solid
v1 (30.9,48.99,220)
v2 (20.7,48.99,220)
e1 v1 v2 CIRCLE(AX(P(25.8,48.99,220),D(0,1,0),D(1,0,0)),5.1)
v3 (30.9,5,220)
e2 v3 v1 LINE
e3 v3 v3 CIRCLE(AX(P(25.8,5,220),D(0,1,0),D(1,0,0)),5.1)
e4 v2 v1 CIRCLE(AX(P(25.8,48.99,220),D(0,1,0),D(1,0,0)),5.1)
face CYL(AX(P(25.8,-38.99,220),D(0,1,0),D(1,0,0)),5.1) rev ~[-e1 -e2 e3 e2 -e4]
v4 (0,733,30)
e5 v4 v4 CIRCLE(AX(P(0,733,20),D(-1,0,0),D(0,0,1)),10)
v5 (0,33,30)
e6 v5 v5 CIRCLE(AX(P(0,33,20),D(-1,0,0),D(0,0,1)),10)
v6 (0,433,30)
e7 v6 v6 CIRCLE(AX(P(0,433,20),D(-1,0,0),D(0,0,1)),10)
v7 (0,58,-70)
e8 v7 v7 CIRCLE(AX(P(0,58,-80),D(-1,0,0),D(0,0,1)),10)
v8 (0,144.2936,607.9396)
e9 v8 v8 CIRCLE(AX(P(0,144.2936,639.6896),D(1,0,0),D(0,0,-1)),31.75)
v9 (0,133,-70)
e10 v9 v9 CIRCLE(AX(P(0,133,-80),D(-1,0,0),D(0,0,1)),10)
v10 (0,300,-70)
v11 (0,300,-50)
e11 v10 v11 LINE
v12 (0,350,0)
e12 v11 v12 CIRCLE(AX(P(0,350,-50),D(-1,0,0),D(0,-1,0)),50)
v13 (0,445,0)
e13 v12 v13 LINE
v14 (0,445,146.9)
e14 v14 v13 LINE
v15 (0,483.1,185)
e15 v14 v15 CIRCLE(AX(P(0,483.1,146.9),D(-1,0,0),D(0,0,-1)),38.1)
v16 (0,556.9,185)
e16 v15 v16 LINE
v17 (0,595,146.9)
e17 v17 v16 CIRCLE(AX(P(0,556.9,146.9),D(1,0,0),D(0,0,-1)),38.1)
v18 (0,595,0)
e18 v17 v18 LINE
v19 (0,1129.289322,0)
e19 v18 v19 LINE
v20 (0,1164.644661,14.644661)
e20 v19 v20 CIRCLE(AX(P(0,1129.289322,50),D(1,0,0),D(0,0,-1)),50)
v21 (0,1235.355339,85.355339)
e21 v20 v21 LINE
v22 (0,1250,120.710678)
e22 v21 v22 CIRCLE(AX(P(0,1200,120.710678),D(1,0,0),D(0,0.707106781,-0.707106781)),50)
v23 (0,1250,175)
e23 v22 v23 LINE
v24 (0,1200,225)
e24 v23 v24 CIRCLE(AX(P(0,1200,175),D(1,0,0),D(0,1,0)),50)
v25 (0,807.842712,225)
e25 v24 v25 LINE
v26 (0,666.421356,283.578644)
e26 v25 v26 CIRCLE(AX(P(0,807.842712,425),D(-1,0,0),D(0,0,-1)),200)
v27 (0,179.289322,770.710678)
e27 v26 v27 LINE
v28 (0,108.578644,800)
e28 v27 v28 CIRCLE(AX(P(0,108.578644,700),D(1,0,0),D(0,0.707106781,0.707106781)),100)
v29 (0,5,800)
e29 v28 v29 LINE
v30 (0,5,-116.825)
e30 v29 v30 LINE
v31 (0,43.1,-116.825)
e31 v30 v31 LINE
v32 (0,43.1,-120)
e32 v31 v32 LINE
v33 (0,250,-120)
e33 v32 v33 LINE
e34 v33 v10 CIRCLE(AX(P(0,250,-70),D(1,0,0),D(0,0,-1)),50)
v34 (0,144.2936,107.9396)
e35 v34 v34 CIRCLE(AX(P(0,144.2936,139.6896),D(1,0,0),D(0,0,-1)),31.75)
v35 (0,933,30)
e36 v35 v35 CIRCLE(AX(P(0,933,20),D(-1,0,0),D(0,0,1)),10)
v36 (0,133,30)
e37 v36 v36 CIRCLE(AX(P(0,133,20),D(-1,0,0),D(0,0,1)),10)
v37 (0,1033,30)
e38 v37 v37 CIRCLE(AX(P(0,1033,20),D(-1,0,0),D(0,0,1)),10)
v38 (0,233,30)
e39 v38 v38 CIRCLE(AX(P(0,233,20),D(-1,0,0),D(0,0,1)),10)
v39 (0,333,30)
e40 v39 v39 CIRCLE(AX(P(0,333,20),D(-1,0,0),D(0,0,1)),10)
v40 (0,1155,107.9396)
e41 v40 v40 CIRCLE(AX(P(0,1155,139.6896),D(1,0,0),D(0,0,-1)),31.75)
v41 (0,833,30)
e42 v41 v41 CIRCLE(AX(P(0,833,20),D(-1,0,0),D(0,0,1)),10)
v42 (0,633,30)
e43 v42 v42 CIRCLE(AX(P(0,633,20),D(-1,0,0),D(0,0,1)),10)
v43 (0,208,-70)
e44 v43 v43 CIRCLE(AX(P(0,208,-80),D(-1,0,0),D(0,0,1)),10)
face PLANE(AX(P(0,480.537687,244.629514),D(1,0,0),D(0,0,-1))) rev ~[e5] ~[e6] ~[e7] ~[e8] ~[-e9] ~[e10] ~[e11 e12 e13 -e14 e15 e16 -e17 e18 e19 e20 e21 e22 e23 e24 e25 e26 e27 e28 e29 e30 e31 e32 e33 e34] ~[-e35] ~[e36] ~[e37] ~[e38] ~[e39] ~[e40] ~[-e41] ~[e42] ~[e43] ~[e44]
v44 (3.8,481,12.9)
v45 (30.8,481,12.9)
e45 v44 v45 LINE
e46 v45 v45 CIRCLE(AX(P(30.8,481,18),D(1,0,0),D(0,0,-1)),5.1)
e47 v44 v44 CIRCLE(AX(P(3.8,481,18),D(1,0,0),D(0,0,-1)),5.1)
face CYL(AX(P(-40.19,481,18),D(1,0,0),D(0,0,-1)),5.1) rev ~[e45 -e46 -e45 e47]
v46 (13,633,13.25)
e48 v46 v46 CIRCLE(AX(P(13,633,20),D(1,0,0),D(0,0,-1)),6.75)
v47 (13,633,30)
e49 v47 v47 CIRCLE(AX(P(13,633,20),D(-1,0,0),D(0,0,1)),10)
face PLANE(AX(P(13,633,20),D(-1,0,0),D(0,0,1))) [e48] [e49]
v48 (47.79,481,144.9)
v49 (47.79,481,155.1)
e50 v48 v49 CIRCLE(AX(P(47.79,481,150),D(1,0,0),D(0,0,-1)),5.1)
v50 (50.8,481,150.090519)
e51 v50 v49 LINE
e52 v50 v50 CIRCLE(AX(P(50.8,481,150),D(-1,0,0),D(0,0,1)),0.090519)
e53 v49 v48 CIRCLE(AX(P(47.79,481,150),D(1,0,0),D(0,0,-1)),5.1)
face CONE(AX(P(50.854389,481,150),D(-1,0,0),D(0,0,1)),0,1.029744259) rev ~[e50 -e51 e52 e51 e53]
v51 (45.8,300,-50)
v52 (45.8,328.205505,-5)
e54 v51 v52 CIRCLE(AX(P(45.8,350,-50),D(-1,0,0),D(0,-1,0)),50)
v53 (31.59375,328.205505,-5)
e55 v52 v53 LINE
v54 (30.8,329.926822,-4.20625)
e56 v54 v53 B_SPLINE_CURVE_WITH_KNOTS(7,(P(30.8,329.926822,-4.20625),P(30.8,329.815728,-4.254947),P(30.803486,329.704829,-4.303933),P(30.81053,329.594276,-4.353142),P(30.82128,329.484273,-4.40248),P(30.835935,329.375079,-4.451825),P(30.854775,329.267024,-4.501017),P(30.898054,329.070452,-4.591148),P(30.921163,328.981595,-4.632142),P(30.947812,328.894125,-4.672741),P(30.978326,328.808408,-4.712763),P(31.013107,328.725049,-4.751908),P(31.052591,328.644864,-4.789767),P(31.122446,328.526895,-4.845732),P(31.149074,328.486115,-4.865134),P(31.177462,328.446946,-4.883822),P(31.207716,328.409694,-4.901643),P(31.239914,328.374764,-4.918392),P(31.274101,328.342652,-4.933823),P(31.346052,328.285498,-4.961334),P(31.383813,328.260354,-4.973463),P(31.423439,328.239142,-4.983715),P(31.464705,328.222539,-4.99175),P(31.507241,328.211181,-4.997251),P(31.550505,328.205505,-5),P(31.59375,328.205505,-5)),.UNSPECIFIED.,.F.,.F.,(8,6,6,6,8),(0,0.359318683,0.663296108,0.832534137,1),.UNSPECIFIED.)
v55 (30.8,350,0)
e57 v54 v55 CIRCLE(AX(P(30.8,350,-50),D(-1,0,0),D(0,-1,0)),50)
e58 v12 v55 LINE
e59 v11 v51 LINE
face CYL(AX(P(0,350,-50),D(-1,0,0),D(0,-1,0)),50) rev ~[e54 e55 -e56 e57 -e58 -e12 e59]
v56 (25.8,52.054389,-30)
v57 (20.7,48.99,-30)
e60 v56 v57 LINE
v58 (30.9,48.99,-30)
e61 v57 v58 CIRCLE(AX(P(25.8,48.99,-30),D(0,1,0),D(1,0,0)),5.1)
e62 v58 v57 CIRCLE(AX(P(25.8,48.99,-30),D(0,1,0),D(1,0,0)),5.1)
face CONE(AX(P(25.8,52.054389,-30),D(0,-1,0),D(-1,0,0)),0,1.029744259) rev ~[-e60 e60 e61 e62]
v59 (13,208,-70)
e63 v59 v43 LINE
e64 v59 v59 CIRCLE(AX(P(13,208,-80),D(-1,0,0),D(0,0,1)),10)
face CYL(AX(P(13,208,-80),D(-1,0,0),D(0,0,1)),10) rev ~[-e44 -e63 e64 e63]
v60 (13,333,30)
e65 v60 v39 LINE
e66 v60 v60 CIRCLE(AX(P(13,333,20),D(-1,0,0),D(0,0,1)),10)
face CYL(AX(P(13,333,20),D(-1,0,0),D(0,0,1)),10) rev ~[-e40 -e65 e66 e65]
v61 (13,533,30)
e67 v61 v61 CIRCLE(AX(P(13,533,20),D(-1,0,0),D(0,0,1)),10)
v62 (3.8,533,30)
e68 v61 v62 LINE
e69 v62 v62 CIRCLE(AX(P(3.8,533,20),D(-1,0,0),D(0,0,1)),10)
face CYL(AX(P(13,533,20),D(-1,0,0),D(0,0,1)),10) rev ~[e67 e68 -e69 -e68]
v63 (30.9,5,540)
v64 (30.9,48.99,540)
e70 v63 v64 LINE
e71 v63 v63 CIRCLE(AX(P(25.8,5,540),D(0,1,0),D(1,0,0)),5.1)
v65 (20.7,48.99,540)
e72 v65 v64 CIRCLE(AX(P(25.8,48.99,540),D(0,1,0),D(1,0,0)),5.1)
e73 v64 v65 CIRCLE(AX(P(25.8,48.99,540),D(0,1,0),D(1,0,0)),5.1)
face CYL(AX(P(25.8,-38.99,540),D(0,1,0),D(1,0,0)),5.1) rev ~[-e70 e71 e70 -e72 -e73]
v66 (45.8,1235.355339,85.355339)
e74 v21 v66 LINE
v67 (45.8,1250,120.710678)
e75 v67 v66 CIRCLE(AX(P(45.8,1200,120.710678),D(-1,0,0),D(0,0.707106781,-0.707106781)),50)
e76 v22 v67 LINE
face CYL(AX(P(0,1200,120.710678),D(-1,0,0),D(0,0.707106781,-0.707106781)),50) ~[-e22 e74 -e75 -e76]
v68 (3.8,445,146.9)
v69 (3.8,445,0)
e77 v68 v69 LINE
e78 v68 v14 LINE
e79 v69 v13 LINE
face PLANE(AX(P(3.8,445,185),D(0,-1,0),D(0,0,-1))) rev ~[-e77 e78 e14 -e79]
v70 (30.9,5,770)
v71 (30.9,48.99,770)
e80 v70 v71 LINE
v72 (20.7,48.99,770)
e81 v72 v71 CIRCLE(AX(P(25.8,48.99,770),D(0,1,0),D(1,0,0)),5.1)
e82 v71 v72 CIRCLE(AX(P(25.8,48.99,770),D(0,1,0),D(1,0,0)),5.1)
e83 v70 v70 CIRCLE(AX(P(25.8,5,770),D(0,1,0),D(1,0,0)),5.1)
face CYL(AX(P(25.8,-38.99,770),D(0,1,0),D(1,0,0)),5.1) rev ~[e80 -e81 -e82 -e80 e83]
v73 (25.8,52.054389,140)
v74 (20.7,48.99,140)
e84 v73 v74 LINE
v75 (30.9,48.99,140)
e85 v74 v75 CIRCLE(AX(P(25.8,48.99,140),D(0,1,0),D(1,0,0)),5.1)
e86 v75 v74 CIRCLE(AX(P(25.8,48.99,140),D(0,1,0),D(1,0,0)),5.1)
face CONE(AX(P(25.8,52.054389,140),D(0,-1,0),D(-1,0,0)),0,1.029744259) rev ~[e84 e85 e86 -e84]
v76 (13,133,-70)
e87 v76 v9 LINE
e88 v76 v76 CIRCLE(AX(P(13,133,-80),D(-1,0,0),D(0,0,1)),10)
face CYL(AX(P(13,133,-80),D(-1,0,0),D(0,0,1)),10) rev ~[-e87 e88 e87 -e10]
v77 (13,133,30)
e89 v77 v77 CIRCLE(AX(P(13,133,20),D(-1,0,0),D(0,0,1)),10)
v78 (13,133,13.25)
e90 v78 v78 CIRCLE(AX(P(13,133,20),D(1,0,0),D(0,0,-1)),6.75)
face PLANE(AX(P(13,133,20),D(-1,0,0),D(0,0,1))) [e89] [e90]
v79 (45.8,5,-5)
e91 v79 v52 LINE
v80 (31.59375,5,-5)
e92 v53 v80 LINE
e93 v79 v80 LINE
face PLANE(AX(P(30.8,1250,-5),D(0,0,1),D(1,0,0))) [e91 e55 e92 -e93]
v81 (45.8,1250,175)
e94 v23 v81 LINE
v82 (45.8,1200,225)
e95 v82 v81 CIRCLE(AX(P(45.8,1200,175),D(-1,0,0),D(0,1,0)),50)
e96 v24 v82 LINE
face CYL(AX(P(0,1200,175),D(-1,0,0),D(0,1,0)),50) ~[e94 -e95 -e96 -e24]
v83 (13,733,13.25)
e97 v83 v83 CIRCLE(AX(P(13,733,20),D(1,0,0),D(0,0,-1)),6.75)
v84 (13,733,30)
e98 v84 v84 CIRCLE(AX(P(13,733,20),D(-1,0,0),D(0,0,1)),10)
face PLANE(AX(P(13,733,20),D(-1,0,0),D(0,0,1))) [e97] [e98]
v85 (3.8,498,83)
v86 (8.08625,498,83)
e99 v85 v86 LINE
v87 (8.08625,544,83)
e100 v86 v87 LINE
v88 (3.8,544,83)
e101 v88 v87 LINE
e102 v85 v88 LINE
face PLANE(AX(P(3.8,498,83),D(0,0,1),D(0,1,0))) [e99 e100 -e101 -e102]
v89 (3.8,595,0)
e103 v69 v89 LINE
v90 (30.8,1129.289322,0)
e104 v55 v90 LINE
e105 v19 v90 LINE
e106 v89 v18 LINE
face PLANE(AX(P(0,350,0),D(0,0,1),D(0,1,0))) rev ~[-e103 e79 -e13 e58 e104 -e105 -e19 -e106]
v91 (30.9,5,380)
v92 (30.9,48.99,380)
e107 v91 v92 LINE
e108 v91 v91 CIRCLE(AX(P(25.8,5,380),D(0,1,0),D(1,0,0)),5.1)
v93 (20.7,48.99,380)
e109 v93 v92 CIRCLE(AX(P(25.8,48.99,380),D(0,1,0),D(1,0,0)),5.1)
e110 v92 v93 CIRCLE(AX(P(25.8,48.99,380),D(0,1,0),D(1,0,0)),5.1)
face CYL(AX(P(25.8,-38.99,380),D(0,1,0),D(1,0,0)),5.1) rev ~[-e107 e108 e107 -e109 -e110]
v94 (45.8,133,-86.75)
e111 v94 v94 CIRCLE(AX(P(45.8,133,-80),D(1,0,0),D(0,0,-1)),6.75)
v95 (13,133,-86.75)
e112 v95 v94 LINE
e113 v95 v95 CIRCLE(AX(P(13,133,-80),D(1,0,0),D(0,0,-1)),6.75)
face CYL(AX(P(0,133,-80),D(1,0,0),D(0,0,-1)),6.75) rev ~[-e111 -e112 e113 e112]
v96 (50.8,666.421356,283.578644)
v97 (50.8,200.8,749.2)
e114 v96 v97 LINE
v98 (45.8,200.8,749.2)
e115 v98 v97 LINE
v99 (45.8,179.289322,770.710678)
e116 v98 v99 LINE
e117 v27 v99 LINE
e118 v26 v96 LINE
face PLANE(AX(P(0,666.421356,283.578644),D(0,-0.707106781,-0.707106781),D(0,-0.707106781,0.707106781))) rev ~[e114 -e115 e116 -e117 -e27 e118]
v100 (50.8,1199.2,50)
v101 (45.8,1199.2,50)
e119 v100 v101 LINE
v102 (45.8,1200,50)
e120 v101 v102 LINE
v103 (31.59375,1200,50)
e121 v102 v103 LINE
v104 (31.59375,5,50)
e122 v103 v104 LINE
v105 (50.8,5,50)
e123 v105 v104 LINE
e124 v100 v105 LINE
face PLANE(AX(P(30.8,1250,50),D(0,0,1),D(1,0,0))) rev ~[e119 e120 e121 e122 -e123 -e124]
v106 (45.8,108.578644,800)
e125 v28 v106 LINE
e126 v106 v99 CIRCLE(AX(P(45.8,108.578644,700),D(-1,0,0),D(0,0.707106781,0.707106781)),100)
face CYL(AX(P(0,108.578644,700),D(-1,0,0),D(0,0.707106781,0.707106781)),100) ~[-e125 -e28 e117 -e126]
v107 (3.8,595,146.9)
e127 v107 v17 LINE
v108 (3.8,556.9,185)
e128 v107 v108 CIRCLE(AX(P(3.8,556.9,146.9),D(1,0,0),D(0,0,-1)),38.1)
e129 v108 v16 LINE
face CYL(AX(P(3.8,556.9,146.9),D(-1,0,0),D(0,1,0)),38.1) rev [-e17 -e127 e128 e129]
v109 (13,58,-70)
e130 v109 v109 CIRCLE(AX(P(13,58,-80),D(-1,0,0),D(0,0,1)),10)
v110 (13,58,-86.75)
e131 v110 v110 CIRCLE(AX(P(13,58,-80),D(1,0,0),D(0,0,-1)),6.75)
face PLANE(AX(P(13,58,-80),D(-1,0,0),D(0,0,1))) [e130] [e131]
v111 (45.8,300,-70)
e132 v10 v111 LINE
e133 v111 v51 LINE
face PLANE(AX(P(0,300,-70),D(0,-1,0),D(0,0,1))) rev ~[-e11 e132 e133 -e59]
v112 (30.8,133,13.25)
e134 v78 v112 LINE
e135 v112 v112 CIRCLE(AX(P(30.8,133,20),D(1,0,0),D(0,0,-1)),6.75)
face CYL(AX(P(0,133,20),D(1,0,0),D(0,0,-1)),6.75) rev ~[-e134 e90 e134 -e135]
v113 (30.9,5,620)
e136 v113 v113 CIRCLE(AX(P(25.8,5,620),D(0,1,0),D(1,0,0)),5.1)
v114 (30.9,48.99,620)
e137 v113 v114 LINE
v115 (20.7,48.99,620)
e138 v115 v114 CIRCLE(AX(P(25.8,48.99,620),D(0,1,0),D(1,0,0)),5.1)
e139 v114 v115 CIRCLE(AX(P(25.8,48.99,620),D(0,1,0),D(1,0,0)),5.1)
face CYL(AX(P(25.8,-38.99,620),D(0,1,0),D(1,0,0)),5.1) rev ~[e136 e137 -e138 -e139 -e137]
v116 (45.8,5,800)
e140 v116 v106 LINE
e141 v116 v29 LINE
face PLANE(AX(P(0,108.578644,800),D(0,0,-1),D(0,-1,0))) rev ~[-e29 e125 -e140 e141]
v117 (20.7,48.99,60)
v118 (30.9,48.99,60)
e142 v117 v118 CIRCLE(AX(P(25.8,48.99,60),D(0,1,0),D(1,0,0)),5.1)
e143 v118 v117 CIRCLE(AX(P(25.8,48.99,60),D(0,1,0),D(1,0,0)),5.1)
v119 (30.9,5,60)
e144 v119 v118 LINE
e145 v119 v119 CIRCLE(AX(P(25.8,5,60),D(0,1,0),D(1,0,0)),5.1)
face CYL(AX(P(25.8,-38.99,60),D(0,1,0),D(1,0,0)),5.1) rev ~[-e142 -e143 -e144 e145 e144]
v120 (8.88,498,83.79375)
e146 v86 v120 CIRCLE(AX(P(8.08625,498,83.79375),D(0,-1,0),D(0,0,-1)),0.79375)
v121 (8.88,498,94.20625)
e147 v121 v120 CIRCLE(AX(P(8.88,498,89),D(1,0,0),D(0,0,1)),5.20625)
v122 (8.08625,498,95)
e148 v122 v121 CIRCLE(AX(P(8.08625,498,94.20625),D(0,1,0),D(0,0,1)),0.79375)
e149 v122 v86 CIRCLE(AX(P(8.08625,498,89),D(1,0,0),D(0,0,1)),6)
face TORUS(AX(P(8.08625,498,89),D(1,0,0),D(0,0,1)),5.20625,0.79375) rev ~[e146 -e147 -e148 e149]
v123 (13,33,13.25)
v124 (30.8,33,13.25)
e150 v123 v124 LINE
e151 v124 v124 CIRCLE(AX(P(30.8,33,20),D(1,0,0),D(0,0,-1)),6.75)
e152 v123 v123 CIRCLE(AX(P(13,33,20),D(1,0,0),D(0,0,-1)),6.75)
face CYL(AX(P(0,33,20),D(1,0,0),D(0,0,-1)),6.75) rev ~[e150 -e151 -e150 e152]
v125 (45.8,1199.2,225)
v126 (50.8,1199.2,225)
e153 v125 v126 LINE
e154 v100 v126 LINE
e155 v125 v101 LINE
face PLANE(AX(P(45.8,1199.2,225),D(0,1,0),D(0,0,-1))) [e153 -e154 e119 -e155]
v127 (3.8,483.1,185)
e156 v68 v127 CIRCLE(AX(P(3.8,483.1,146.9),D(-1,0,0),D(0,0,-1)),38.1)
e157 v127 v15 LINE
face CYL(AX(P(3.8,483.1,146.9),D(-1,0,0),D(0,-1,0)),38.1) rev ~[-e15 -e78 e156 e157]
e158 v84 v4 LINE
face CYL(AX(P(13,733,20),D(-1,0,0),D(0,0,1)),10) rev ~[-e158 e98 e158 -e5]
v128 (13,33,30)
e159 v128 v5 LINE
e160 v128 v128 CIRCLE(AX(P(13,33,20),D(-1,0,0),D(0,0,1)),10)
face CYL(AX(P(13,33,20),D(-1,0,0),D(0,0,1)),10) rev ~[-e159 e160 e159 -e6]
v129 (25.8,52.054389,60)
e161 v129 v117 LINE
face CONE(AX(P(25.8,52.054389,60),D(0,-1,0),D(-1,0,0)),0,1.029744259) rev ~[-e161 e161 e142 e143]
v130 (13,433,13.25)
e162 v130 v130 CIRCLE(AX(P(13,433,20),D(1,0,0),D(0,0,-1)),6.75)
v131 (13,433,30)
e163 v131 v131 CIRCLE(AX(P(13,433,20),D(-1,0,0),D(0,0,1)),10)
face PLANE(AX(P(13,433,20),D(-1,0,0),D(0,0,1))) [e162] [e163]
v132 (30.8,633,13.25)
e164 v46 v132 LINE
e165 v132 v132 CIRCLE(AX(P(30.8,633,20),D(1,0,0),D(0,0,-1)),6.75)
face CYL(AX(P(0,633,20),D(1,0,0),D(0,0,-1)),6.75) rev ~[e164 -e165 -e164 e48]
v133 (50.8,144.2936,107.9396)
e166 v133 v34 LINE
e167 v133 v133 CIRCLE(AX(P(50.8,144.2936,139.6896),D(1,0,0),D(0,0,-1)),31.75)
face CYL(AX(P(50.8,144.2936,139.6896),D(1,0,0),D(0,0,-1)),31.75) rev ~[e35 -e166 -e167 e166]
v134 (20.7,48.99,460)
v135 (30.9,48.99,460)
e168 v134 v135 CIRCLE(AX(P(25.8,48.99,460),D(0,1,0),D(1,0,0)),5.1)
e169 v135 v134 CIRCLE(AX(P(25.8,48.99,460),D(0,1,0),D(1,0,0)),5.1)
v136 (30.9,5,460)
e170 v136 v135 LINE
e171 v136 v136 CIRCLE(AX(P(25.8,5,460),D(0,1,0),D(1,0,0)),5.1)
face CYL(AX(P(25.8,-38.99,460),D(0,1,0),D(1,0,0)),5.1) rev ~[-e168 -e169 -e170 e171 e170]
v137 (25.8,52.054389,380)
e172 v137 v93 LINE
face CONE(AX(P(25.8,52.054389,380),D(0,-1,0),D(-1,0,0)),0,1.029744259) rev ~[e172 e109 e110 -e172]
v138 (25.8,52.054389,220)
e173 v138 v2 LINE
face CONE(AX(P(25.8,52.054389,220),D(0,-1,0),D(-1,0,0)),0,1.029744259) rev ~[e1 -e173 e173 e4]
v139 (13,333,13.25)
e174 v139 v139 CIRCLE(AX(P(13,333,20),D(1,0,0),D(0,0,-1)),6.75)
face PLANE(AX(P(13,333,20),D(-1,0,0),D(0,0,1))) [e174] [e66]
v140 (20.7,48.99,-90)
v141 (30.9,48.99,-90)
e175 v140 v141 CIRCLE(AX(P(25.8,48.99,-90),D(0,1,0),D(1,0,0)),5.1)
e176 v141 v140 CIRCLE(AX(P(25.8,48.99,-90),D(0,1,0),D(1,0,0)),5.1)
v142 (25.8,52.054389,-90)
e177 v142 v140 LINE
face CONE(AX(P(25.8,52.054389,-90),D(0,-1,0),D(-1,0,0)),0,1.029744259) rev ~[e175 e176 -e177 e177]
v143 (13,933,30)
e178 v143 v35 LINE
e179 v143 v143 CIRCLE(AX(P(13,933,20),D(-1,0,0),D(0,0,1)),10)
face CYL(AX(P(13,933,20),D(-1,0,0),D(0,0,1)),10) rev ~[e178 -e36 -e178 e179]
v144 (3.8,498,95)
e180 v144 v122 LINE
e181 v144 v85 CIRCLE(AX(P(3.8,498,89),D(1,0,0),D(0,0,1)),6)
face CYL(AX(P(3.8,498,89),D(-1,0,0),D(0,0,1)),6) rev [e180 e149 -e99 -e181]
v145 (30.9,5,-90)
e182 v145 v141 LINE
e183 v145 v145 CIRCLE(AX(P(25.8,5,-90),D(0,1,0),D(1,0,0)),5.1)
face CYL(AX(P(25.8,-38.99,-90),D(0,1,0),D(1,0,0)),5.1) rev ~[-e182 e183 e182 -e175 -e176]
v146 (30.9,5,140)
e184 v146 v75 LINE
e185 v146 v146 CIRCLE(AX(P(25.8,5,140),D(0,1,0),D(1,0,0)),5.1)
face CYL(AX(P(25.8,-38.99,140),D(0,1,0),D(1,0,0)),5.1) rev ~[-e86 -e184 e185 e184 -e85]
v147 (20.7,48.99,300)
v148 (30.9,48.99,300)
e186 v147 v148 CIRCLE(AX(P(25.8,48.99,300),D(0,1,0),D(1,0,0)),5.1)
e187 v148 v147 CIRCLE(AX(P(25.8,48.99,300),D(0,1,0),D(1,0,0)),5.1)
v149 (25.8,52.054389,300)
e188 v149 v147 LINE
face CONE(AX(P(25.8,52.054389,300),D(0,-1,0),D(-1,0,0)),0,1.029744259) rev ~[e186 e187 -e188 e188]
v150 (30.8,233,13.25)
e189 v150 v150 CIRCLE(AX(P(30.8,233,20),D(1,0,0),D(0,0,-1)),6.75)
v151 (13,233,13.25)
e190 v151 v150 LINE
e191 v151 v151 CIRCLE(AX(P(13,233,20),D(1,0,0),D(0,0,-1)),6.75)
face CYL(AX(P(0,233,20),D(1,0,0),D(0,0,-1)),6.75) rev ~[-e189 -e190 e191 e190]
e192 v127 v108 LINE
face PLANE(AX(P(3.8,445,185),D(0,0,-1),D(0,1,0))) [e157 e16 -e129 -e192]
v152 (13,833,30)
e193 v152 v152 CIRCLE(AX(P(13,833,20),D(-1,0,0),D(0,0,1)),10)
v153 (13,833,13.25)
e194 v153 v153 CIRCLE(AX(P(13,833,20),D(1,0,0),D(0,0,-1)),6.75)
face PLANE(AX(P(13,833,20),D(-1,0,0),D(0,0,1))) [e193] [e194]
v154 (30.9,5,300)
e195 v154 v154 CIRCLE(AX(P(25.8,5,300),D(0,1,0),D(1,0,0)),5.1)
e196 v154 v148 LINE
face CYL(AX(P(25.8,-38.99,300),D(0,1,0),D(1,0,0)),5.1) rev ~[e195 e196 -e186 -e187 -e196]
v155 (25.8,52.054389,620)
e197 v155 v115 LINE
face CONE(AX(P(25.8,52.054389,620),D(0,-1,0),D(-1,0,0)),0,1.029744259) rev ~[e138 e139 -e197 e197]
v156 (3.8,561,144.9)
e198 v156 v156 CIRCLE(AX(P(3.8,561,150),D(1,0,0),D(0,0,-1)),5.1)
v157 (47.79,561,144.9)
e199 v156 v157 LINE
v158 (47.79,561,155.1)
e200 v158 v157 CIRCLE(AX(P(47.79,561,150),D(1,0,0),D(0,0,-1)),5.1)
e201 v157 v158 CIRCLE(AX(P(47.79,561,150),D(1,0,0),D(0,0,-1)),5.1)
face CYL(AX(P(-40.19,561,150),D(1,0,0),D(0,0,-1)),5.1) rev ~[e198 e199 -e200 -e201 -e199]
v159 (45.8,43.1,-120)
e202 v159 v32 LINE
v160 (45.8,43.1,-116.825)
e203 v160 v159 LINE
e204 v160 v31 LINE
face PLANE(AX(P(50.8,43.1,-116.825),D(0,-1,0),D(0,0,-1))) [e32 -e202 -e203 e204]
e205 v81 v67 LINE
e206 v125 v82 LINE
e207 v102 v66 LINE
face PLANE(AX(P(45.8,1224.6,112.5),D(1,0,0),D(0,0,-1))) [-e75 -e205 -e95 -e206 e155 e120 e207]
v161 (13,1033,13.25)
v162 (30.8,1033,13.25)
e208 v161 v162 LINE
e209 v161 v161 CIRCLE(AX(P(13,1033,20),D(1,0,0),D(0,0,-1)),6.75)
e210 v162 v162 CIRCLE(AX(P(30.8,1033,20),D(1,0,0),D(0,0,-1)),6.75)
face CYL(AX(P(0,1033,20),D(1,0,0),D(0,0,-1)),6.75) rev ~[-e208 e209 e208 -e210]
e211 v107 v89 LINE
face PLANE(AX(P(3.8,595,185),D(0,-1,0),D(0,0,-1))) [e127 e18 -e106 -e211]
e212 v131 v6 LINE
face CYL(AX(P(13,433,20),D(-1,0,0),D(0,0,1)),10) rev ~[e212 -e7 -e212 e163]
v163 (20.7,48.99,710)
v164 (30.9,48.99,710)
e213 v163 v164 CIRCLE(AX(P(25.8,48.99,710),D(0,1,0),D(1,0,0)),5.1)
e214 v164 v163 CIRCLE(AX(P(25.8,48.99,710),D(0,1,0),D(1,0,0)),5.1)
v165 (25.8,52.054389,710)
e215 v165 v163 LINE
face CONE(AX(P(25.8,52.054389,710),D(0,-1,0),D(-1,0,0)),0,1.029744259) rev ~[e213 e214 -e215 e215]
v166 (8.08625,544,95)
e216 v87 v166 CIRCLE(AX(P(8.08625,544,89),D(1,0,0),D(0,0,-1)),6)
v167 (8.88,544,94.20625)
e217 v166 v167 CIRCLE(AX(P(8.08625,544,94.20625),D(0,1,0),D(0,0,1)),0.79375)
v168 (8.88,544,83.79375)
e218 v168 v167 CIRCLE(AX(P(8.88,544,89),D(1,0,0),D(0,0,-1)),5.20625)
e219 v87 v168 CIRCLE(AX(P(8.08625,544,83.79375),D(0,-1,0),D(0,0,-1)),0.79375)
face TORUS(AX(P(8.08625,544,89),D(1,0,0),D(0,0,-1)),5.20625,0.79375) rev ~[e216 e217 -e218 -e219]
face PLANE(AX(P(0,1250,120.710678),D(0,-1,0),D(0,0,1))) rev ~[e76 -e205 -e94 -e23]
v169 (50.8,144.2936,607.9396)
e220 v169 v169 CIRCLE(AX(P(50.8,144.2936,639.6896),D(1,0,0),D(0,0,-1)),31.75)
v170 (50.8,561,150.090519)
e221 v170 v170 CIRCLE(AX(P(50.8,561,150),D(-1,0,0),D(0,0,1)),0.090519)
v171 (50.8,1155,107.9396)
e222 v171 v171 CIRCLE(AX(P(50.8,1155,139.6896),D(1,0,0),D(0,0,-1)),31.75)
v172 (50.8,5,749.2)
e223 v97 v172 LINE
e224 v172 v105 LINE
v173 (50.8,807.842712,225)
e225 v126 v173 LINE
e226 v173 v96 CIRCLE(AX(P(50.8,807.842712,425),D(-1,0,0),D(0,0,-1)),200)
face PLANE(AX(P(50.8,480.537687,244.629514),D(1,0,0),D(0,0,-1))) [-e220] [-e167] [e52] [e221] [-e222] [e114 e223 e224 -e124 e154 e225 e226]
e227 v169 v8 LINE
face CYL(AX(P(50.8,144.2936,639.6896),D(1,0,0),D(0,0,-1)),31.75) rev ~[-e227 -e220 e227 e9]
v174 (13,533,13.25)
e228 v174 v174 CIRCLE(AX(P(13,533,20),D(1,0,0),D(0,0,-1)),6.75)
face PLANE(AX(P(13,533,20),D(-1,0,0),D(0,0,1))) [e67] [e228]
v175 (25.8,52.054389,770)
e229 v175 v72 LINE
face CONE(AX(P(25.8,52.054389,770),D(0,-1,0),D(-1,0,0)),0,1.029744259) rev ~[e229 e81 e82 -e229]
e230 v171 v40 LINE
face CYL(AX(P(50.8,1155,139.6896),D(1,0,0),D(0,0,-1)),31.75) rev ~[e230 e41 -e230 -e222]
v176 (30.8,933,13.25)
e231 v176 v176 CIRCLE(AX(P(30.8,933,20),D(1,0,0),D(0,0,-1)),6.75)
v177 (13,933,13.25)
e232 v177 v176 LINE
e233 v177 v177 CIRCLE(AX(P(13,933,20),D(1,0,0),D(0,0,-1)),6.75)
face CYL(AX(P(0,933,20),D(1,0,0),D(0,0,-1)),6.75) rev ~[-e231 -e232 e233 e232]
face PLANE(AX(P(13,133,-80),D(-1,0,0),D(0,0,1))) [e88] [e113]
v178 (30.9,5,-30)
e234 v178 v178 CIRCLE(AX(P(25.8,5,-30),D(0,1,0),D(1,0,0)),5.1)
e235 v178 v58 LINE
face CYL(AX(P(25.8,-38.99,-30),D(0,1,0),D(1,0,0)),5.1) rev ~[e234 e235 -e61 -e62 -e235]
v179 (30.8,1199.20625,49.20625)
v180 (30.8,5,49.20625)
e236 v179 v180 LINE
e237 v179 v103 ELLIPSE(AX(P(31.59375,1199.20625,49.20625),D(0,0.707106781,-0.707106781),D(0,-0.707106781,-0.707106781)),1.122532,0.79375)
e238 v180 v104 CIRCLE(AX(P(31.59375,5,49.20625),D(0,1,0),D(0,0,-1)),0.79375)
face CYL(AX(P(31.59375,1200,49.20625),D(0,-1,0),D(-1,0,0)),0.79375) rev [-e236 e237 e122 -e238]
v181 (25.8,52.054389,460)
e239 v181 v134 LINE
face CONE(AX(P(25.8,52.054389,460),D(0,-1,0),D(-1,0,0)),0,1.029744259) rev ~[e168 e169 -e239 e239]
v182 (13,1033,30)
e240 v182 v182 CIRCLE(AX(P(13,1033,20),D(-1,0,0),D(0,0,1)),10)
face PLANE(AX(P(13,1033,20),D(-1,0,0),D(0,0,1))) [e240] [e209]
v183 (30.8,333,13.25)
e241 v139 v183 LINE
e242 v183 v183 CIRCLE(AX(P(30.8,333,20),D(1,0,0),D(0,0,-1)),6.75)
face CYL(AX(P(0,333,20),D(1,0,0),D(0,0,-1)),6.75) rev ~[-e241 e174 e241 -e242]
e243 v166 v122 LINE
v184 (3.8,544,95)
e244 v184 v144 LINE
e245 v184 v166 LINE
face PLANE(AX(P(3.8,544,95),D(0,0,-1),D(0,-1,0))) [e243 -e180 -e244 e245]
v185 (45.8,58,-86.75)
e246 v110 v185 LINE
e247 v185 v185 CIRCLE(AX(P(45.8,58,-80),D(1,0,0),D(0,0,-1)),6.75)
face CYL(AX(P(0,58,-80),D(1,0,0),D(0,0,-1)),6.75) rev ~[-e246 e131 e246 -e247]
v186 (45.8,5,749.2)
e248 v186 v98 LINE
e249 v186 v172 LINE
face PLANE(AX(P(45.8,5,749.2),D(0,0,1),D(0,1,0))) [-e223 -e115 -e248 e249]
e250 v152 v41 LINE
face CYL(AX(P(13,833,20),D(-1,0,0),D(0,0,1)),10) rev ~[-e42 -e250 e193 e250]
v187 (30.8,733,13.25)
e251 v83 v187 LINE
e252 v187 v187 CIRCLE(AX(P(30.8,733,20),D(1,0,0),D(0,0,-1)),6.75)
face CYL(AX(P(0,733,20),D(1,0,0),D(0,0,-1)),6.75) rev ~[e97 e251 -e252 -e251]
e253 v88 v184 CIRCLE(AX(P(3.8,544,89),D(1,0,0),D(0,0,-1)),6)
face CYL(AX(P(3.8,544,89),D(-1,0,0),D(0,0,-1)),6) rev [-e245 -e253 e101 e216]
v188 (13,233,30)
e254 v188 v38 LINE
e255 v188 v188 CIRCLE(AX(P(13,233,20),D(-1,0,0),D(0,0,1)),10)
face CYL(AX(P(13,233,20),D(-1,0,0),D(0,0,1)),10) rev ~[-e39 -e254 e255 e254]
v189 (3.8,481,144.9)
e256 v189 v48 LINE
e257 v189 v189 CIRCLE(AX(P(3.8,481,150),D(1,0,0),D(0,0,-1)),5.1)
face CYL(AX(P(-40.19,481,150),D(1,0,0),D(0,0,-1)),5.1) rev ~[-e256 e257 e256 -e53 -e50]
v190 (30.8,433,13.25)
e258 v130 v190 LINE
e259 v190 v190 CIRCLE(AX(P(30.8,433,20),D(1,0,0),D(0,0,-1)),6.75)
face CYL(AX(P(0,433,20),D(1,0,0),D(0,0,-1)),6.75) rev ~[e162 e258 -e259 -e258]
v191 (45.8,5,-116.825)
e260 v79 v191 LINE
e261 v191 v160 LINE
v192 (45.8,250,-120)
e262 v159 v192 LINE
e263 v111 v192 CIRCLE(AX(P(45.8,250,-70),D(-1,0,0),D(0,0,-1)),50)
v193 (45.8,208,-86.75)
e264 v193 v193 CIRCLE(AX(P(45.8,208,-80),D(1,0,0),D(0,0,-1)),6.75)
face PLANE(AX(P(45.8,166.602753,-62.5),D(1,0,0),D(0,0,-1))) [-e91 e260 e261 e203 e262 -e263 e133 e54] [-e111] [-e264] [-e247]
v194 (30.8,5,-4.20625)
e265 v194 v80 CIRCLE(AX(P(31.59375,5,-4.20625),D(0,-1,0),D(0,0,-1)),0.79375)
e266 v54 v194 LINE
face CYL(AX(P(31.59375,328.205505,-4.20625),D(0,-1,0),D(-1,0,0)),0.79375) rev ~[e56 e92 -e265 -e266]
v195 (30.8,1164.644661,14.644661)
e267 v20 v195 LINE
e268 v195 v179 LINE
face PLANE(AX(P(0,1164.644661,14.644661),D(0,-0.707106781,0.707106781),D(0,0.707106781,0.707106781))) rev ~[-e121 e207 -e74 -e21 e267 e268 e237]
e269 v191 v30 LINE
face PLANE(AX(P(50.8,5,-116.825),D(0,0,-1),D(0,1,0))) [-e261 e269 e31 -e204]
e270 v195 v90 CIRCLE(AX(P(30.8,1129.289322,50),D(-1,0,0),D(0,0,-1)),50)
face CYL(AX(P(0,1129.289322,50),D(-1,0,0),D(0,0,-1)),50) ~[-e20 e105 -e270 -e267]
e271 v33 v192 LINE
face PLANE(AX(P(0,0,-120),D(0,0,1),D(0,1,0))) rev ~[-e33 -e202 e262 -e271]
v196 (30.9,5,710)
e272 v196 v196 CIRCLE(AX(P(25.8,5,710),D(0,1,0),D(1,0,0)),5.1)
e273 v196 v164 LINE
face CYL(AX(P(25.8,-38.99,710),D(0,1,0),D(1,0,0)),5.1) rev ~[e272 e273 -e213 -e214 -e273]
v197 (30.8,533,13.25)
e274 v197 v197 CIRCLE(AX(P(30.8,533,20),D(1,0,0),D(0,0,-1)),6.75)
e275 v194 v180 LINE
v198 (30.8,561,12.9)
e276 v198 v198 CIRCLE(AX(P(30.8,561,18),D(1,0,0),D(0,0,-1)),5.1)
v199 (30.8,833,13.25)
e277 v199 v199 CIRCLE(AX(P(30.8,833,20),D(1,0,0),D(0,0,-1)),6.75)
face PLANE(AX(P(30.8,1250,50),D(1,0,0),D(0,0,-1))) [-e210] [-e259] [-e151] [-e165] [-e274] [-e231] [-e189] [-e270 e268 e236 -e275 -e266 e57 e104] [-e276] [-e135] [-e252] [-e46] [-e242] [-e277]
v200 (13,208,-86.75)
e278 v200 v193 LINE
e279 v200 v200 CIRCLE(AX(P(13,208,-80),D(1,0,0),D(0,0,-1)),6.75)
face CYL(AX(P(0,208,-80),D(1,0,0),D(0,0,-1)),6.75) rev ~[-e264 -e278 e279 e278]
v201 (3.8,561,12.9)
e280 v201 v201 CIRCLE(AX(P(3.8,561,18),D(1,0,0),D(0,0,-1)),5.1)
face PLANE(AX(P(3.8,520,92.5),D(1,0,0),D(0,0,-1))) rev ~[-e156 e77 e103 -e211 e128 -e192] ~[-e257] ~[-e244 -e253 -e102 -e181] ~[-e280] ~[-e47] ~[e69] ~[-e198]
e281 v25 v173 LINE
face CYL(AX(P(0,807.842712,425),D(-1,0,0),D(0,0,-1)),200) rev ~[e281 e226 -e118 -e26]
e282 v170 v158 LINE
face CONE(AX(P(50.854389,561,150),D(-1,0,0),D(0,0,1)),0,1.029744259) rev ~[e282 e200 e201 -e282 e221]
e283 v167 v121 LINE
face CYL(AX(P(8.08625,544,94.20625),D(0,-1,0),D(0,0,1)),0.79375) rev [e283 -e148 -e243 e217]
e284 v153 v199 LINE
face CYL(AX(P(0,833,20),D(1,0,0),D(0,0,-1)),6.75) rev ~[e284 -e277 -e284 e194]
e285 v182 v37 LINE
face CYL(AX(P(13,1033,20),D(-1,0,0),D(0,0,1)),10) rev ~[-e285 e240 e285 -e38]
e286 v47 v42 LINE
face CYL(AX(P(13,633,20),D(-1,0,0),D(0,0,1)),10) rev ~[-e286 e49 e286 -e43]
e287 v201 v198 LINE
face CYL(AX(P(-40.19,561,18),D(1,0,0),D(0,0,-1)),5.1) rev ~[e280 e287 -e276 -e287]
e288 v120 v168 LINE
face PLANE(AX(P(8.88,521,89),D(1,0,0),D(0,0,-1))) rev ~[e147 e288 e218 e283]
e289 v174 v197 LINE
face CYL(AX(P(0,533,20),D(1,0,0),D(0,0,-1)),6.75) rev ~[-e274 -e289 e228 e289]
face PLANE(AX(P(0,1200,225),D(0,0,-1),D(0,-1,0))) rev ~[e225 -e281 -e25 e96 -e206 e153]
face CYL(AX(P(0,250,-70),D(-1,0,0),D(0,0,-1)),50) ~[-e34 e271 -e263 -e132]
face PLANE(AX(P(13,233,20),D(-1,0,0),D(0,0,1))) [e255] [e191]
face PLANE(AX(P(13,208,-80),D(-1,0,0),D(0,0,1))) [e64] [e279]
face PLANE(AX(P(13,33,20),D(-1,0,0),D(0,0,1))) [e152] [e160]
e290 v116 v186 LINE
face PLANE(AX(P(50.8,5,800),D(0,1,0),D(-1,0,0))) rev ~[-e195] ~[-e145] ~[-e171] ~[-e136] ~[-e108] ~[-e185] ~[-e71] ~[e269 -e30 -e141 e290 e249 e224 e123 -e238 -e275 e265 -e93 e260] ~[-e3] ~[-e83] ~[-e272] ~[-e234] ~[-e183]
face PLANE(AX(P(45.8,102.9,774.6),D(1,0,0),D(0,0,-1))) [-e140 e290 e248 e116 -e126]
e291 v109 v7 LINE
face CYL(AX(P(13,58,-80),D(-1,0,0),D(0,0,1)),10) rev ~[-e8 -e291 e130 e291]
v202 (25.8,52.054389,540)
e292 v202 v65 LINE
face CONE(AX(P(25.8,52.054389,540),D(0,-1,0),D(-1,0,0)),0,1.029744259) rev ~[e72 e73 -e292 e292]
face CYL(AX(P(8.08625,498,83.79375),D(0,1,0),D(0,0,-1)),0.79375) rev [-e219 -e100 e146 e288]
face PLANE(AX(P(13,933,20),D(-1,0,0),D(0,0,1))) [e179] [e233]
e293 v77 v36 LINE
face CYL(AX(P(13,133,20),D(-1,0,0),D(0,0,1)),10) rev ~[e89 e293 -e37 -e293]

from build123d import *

# Parameters (mm, degrees)
BOSS_EXTRUDE1_DEPTH                                  = 50.8
SKETCH2_W                                            = 20
SKETCH2_H                                            = 55
CUT_EXTRUDE1_DEPTH                                   = 1485.951393144
SKETCH3_W                                            = 50.8
SKETCH3_H                                            = 5
CUT_EXTRUDE2_DEPTH                                   = 1553.894278436
SKETCH5_W                                            = 115
SKETCH5_H                                            = 323.205505282
CUT_EXTRUDE5_DEPTH                                   = 5
CUT_EXTRUDE6_START                                   = -27
SKETCH6_W                                            = 185
SKETCH6_H                                            = 150
CUT_EXTRUDE6_DEPTH                                   = 1458.401778495
FILLET1_R                                            = 38.1
M12_TAPPED_HOLE1_D                                   = 10.2
M12_TAPPED_HOLE1_DEPTH                               = 43.99
M12_TAPPED_HOLE1_TIP                                 = 3.064389157
CUT_EXTRUDE7_DEPTH                                   = 5.08
CBORE_FOR_M12_HEX_SOCKET_HEAD_CAP_SCREW1_D           = 13.5
CBORE_FOR_M12_HEX_SOCKET_HEAD_CAP_SCREW1_CBORE_D     = 20
CBORE_FOR_M12_HEX_SOCKET_HEAD_CAP_SCREW1_CBORE_DEPTH = 13
M12_TAPPED_HOLE2_D                                   = 10.2
M12_TAPPED_HOLE2_DEPTH                               = 43.99
M12_TAPPED_HOLE2_TIP                                 = 3.064389157
FILLET2_R                                            = 0.79375
FILLET3_R                                            = 0.79375
SKETCH16_W                                           = 225
SKETCH16_H                                           = 50.8
SKETCH16_W_2                                         = 50.8
SKETCH16_H_2                                         = 195.8
CUT_EXTRUDE8_DEPTH                                   = 1485.788752654
SKETCH17_R                                           = 31.75
SKETCH17_W                                           = 3.175
SKETCH17_H                                           = 38.1
CUT_EXTRUDE9_DEPTH                                   = 1485.951393147
SKETCH18_R                                           = 31.75
CUT_EXTRUDE10_DEPTH                                  = 1485.951393147


with BuildPart() as part:
    # Sketch1 → Boss-Extrude1 (new body)
    with BuildSketch(Plane(origin=(0, 0, 0), x_dir=(0, 0, -1), z_dir=(1, 0, 0))):
        with BuildLine():
            Line((0, 350), (0, 1129.289321881))
            ThreePointArc((0, 1129.289321881), (-3.806023374, 1148.4234935), (-14.644660941, 1164.644660941))
            Line((-14.644660941, 1164.644660941), (-85.355339059, 1235.355339059))
            ThreePointArc((-85.355339059, 1235.355339059), (-101.5765065, 1246.193976626), (-120.710678119, 1250))
            Line((-120.710678119, 1250), (-175, 1250))
            ThreePointArc((-175, 1250), (-210.355339059, 1235.355339059), (-225, 1200))
            Line((-225, 1200), (-225, 807.842712475))
            ThreePointArc((-225, 807.842712475), (-240.224093498, 731.306026002), (-283.578643763, 666.421356237))
            Line((-283.578643763, 666.421356237), (-770.710678119, 179.289321881))
            ThreePointArc((-770.710678119, 179.289321881), (-792.387953251, 146.846986999), (-800, 108.578643763))
            Line((-800, 108.578643763), (-800, 0))
            Line((-800, 0), (0, 0))
            Line((0, 0), (120, 0))
            Line((120, 0), (120, 250))
            ThreePointArc((120, 250), (105.355339059, 285.355339059), (70, 300))
            Line((70, 300), (50, 300))
            ThreePointArc((50, 300), (14.644660941, 314.644660941), (0, 350))
        make_face()
    extrude(amount=BOSS_EXTRUDE1_DEPTH)

    # Sketch2 → Cut-Extrude1 (cut, through all)
    with BuildSketch(Plane(origin=(0, 1250, 0), x_dir=(1, 0, 0), z_dir=(0, 1, 0))):
        with Locations((40.8, -22.5)):
            Rectangle(SKETCH2_W, SKETCH2_H)
    extrude(amount=-CUT_EXTRUDE1_DEPTH, mode=Mode.SUBTRACT)

    # Sketch3 → Cut-Extrude2 (cut, through all)
    with BuildSketch(Plane(origin=(0, 0, 800), x_dir=(-1, 0, 0), z_dir=(0, 0, -1))):
        with Locations((-25.4, 2.5)):
            Rectangle(SKETCH3_W, SKETCH3_H)
    extrude(amount=CUT_EXTRUDE2_DEPTH, mode=Mode.SUBTRACT)

    # Sketch5 → Cut-Extrude5 (cut)
    with BuildSketch(Plane(origin=(50.8, 0, 0), x_dir=(0, 0, -1), z_dir=(1, 0, 0))):
        with Locations((62.5, 166.602752641)):
            Rectangle(SKETCH5_W, SKETCH5_H)
    extrude(amount=-CUT_EXTRUDE5_DEPTH, mode=Mode.SUBTRACT)

    # Sketch6 → Cut-Extrude6 (cut, through all)
    with BuildSketch(Plane(origin=(30.8, 0, 0), x_dir=(0, 0, -1), z_dir=(1, 0, 0)).offset(CUT_EXTRUDE6_START)):
        with Locations((-92.5, 520)):
            Rectangle(SKETCH6_W, SKETCH6_H)
    extrude(amount=-CUT_EXTRUDE6_DEPTH, mode=Mode.SUBTRACT)

    # Fillet1
    fillet1_edges = [part.edges().sort_by_distance(p)[0] for p in [
        (1.9, 445, 185),
        (1.9, 595, 185),
    ]]
    fillet(fillet1_edges, radius=FILLET1_R)

    # M12 Tapped Hole1
    with Locations(Plane.ZY.offset(-3.8)):
        with Locations((150, 561), (18, 561), (18, 481), (150, 481)):
            Hole(M12_TAPPED_HOLE1_D / 2, depth=M12_TAPPED_HOLE1_DEPTH)
            with Locations((0, 0, -(M12_TAPPED_HOLE1_DEPTH + M12_TAPPED_HOLE1_TIP / 2))):  # 118° drill point
                Cone(0, M12_TAPPED_HOLE1_D / 2, M12_TAPPED_HOLE1_TIP, mode=Mode.SUBTRACT)

    # Sketch9 → Cut-Extrude7 (cut)
    with BuildSketch(Plane.ZY.offset(-3.8)):
        with BuildLine():
            Line((95, 544), (95, 498))
            ThreePointArc((95, 498), (89, 492), (83, 498))
            Line((83, 498), (83, 544))
            ThreePointArc((83, 544), (89, 550), (95, 544))
        make_face()
    extrude(amount=-CUT_EXTRUDE7_DEPTH, mode=Mode.SUBTRACT)

    # CBORE for M12 Hex Socket Head Cap Screw1 (through all)
    with Locations(Plane.ZY):
        with Locations((20, 33), (-80, 58), (-80, 133), (-80, 208), (20, 133), (20, 233), (20, 333), (20, 433), (20, 533), (20, 633), (20, 733), (20, 833), (20, 933), (20, 1033)):
            CounterBoreHole(CBORE_FOR_M12_HEX_SOCKET_HEAD_CAP_SCREW1_D / 2, CBORE_FOR_M12_HEX_SOCKET_HEAD_CAP_SCREW1_CBORE_D / 2, CBORE_FOR_M12_HEX_SOCKET_HEAD_CAP_SCREW1_CBORE_DEPTH)

    # M12 Tapped Hole2
    with Locations(Plane(origin=(0, 5, 0), x_dir=(-1, 0, 0), z_dir=(0, -1, 0))):
        with Locations((-25.8, 90), (-25.8, 30), (-25.8, -60), (-25.8, -140), (-25.8, -220), (-25.8, -380), (-25.8, -300), (-25.8, -460), (-25.8, -540), (-25.8, -620), (-25.8, -710), (-25.8, -770)):
            Hole(M12_TAPPED_HOLE2_D / 2, depth=M12_TAPPED_HOLE2_DEPTH)
            with Locations((0, 0, -(M12_TAPPED_HOLE2_DEPTH + M12_TAPPED_HOLE2_TIP / 2))):  # 118° drill point
                Cone(0, M12_TAPPED_HOLE2_D / 2, M12_TAPPED_HOLE2_TIP, mode=Mode.SUBTRACT)

    # Fillet2
    fillet2_edges = [part.edges().sort_by_distance(p)[0] for p in [
        (8.88, 550, 89),
        (8.88, 521, 95),
        (8.88, 492, 89),
        (8.88, 521, 83),
    ]]
    fillet(fillet2_edges, radius=FILLET2_R)

    # Fillet3
    fillet3_edges = [part.edges().sort_by_distance(p)[0] for p in [
        (30.8, 602.5, 50),
        (30.8, 166.602752641, -5),
    ]]
    fillet(fillet3_edges, radius=FILLET3_R)

    # Sketch16 → Cut-Extrude8 (cut, through all)
    with BuildSketch(Plane(origin=(45.8, 0, 0), x_dir=(0, 0, -1), z_dir=(1, 0, 0))):
        with Locations((-112.5, 1224.6)):
            Rectangle(SKETCH16_W, SKETCH16_H)
        with Locations((-774.6, 102.9)):
            Rectangle(SKETCH16_W_2, SKETCH16_H_2)
    extrude(amount=CUT_EXTRUDE8_DEPTH, mode=Mode.SUBTRACT)

    # Sketch17 → Cut-Extrude9 (cut, through all)
    with BuildSketch(Plane(origin=(50.8, 0, 0), x_dir=(0, 0, -1), z_dir=(1, 0, 0))):
        with Locations((-139.6896, 144.2936)):
            Circle(SKETCH17_R)
        with Locations((118.4125, 24.05)):
            Rectangle(SKETCH17_W, SKETCH17_H)
    extrude(amount=-CUT_EXTRUDE9_DEPTH, mode=Mode.SUBTRACT)

    # Sketch18 → Cut-Extrude10 (cut, through all)
    with BuildSketch(Plane(origin=(50.8, 0, 0), x_dir=(0, 0, -1), z_dir=(1, 0, 0))):
        with Locations((-639.6896, 144.2936)):
            Circle(SKETCH18_R)
        with Locations((-139.6896, 1155)):
            Circle(SKETCH18_R)
    extrude(amount=-CUT_EXTRUDE10_DEPTH, mode=Mode.SUBTRACT)


solid = part.part
